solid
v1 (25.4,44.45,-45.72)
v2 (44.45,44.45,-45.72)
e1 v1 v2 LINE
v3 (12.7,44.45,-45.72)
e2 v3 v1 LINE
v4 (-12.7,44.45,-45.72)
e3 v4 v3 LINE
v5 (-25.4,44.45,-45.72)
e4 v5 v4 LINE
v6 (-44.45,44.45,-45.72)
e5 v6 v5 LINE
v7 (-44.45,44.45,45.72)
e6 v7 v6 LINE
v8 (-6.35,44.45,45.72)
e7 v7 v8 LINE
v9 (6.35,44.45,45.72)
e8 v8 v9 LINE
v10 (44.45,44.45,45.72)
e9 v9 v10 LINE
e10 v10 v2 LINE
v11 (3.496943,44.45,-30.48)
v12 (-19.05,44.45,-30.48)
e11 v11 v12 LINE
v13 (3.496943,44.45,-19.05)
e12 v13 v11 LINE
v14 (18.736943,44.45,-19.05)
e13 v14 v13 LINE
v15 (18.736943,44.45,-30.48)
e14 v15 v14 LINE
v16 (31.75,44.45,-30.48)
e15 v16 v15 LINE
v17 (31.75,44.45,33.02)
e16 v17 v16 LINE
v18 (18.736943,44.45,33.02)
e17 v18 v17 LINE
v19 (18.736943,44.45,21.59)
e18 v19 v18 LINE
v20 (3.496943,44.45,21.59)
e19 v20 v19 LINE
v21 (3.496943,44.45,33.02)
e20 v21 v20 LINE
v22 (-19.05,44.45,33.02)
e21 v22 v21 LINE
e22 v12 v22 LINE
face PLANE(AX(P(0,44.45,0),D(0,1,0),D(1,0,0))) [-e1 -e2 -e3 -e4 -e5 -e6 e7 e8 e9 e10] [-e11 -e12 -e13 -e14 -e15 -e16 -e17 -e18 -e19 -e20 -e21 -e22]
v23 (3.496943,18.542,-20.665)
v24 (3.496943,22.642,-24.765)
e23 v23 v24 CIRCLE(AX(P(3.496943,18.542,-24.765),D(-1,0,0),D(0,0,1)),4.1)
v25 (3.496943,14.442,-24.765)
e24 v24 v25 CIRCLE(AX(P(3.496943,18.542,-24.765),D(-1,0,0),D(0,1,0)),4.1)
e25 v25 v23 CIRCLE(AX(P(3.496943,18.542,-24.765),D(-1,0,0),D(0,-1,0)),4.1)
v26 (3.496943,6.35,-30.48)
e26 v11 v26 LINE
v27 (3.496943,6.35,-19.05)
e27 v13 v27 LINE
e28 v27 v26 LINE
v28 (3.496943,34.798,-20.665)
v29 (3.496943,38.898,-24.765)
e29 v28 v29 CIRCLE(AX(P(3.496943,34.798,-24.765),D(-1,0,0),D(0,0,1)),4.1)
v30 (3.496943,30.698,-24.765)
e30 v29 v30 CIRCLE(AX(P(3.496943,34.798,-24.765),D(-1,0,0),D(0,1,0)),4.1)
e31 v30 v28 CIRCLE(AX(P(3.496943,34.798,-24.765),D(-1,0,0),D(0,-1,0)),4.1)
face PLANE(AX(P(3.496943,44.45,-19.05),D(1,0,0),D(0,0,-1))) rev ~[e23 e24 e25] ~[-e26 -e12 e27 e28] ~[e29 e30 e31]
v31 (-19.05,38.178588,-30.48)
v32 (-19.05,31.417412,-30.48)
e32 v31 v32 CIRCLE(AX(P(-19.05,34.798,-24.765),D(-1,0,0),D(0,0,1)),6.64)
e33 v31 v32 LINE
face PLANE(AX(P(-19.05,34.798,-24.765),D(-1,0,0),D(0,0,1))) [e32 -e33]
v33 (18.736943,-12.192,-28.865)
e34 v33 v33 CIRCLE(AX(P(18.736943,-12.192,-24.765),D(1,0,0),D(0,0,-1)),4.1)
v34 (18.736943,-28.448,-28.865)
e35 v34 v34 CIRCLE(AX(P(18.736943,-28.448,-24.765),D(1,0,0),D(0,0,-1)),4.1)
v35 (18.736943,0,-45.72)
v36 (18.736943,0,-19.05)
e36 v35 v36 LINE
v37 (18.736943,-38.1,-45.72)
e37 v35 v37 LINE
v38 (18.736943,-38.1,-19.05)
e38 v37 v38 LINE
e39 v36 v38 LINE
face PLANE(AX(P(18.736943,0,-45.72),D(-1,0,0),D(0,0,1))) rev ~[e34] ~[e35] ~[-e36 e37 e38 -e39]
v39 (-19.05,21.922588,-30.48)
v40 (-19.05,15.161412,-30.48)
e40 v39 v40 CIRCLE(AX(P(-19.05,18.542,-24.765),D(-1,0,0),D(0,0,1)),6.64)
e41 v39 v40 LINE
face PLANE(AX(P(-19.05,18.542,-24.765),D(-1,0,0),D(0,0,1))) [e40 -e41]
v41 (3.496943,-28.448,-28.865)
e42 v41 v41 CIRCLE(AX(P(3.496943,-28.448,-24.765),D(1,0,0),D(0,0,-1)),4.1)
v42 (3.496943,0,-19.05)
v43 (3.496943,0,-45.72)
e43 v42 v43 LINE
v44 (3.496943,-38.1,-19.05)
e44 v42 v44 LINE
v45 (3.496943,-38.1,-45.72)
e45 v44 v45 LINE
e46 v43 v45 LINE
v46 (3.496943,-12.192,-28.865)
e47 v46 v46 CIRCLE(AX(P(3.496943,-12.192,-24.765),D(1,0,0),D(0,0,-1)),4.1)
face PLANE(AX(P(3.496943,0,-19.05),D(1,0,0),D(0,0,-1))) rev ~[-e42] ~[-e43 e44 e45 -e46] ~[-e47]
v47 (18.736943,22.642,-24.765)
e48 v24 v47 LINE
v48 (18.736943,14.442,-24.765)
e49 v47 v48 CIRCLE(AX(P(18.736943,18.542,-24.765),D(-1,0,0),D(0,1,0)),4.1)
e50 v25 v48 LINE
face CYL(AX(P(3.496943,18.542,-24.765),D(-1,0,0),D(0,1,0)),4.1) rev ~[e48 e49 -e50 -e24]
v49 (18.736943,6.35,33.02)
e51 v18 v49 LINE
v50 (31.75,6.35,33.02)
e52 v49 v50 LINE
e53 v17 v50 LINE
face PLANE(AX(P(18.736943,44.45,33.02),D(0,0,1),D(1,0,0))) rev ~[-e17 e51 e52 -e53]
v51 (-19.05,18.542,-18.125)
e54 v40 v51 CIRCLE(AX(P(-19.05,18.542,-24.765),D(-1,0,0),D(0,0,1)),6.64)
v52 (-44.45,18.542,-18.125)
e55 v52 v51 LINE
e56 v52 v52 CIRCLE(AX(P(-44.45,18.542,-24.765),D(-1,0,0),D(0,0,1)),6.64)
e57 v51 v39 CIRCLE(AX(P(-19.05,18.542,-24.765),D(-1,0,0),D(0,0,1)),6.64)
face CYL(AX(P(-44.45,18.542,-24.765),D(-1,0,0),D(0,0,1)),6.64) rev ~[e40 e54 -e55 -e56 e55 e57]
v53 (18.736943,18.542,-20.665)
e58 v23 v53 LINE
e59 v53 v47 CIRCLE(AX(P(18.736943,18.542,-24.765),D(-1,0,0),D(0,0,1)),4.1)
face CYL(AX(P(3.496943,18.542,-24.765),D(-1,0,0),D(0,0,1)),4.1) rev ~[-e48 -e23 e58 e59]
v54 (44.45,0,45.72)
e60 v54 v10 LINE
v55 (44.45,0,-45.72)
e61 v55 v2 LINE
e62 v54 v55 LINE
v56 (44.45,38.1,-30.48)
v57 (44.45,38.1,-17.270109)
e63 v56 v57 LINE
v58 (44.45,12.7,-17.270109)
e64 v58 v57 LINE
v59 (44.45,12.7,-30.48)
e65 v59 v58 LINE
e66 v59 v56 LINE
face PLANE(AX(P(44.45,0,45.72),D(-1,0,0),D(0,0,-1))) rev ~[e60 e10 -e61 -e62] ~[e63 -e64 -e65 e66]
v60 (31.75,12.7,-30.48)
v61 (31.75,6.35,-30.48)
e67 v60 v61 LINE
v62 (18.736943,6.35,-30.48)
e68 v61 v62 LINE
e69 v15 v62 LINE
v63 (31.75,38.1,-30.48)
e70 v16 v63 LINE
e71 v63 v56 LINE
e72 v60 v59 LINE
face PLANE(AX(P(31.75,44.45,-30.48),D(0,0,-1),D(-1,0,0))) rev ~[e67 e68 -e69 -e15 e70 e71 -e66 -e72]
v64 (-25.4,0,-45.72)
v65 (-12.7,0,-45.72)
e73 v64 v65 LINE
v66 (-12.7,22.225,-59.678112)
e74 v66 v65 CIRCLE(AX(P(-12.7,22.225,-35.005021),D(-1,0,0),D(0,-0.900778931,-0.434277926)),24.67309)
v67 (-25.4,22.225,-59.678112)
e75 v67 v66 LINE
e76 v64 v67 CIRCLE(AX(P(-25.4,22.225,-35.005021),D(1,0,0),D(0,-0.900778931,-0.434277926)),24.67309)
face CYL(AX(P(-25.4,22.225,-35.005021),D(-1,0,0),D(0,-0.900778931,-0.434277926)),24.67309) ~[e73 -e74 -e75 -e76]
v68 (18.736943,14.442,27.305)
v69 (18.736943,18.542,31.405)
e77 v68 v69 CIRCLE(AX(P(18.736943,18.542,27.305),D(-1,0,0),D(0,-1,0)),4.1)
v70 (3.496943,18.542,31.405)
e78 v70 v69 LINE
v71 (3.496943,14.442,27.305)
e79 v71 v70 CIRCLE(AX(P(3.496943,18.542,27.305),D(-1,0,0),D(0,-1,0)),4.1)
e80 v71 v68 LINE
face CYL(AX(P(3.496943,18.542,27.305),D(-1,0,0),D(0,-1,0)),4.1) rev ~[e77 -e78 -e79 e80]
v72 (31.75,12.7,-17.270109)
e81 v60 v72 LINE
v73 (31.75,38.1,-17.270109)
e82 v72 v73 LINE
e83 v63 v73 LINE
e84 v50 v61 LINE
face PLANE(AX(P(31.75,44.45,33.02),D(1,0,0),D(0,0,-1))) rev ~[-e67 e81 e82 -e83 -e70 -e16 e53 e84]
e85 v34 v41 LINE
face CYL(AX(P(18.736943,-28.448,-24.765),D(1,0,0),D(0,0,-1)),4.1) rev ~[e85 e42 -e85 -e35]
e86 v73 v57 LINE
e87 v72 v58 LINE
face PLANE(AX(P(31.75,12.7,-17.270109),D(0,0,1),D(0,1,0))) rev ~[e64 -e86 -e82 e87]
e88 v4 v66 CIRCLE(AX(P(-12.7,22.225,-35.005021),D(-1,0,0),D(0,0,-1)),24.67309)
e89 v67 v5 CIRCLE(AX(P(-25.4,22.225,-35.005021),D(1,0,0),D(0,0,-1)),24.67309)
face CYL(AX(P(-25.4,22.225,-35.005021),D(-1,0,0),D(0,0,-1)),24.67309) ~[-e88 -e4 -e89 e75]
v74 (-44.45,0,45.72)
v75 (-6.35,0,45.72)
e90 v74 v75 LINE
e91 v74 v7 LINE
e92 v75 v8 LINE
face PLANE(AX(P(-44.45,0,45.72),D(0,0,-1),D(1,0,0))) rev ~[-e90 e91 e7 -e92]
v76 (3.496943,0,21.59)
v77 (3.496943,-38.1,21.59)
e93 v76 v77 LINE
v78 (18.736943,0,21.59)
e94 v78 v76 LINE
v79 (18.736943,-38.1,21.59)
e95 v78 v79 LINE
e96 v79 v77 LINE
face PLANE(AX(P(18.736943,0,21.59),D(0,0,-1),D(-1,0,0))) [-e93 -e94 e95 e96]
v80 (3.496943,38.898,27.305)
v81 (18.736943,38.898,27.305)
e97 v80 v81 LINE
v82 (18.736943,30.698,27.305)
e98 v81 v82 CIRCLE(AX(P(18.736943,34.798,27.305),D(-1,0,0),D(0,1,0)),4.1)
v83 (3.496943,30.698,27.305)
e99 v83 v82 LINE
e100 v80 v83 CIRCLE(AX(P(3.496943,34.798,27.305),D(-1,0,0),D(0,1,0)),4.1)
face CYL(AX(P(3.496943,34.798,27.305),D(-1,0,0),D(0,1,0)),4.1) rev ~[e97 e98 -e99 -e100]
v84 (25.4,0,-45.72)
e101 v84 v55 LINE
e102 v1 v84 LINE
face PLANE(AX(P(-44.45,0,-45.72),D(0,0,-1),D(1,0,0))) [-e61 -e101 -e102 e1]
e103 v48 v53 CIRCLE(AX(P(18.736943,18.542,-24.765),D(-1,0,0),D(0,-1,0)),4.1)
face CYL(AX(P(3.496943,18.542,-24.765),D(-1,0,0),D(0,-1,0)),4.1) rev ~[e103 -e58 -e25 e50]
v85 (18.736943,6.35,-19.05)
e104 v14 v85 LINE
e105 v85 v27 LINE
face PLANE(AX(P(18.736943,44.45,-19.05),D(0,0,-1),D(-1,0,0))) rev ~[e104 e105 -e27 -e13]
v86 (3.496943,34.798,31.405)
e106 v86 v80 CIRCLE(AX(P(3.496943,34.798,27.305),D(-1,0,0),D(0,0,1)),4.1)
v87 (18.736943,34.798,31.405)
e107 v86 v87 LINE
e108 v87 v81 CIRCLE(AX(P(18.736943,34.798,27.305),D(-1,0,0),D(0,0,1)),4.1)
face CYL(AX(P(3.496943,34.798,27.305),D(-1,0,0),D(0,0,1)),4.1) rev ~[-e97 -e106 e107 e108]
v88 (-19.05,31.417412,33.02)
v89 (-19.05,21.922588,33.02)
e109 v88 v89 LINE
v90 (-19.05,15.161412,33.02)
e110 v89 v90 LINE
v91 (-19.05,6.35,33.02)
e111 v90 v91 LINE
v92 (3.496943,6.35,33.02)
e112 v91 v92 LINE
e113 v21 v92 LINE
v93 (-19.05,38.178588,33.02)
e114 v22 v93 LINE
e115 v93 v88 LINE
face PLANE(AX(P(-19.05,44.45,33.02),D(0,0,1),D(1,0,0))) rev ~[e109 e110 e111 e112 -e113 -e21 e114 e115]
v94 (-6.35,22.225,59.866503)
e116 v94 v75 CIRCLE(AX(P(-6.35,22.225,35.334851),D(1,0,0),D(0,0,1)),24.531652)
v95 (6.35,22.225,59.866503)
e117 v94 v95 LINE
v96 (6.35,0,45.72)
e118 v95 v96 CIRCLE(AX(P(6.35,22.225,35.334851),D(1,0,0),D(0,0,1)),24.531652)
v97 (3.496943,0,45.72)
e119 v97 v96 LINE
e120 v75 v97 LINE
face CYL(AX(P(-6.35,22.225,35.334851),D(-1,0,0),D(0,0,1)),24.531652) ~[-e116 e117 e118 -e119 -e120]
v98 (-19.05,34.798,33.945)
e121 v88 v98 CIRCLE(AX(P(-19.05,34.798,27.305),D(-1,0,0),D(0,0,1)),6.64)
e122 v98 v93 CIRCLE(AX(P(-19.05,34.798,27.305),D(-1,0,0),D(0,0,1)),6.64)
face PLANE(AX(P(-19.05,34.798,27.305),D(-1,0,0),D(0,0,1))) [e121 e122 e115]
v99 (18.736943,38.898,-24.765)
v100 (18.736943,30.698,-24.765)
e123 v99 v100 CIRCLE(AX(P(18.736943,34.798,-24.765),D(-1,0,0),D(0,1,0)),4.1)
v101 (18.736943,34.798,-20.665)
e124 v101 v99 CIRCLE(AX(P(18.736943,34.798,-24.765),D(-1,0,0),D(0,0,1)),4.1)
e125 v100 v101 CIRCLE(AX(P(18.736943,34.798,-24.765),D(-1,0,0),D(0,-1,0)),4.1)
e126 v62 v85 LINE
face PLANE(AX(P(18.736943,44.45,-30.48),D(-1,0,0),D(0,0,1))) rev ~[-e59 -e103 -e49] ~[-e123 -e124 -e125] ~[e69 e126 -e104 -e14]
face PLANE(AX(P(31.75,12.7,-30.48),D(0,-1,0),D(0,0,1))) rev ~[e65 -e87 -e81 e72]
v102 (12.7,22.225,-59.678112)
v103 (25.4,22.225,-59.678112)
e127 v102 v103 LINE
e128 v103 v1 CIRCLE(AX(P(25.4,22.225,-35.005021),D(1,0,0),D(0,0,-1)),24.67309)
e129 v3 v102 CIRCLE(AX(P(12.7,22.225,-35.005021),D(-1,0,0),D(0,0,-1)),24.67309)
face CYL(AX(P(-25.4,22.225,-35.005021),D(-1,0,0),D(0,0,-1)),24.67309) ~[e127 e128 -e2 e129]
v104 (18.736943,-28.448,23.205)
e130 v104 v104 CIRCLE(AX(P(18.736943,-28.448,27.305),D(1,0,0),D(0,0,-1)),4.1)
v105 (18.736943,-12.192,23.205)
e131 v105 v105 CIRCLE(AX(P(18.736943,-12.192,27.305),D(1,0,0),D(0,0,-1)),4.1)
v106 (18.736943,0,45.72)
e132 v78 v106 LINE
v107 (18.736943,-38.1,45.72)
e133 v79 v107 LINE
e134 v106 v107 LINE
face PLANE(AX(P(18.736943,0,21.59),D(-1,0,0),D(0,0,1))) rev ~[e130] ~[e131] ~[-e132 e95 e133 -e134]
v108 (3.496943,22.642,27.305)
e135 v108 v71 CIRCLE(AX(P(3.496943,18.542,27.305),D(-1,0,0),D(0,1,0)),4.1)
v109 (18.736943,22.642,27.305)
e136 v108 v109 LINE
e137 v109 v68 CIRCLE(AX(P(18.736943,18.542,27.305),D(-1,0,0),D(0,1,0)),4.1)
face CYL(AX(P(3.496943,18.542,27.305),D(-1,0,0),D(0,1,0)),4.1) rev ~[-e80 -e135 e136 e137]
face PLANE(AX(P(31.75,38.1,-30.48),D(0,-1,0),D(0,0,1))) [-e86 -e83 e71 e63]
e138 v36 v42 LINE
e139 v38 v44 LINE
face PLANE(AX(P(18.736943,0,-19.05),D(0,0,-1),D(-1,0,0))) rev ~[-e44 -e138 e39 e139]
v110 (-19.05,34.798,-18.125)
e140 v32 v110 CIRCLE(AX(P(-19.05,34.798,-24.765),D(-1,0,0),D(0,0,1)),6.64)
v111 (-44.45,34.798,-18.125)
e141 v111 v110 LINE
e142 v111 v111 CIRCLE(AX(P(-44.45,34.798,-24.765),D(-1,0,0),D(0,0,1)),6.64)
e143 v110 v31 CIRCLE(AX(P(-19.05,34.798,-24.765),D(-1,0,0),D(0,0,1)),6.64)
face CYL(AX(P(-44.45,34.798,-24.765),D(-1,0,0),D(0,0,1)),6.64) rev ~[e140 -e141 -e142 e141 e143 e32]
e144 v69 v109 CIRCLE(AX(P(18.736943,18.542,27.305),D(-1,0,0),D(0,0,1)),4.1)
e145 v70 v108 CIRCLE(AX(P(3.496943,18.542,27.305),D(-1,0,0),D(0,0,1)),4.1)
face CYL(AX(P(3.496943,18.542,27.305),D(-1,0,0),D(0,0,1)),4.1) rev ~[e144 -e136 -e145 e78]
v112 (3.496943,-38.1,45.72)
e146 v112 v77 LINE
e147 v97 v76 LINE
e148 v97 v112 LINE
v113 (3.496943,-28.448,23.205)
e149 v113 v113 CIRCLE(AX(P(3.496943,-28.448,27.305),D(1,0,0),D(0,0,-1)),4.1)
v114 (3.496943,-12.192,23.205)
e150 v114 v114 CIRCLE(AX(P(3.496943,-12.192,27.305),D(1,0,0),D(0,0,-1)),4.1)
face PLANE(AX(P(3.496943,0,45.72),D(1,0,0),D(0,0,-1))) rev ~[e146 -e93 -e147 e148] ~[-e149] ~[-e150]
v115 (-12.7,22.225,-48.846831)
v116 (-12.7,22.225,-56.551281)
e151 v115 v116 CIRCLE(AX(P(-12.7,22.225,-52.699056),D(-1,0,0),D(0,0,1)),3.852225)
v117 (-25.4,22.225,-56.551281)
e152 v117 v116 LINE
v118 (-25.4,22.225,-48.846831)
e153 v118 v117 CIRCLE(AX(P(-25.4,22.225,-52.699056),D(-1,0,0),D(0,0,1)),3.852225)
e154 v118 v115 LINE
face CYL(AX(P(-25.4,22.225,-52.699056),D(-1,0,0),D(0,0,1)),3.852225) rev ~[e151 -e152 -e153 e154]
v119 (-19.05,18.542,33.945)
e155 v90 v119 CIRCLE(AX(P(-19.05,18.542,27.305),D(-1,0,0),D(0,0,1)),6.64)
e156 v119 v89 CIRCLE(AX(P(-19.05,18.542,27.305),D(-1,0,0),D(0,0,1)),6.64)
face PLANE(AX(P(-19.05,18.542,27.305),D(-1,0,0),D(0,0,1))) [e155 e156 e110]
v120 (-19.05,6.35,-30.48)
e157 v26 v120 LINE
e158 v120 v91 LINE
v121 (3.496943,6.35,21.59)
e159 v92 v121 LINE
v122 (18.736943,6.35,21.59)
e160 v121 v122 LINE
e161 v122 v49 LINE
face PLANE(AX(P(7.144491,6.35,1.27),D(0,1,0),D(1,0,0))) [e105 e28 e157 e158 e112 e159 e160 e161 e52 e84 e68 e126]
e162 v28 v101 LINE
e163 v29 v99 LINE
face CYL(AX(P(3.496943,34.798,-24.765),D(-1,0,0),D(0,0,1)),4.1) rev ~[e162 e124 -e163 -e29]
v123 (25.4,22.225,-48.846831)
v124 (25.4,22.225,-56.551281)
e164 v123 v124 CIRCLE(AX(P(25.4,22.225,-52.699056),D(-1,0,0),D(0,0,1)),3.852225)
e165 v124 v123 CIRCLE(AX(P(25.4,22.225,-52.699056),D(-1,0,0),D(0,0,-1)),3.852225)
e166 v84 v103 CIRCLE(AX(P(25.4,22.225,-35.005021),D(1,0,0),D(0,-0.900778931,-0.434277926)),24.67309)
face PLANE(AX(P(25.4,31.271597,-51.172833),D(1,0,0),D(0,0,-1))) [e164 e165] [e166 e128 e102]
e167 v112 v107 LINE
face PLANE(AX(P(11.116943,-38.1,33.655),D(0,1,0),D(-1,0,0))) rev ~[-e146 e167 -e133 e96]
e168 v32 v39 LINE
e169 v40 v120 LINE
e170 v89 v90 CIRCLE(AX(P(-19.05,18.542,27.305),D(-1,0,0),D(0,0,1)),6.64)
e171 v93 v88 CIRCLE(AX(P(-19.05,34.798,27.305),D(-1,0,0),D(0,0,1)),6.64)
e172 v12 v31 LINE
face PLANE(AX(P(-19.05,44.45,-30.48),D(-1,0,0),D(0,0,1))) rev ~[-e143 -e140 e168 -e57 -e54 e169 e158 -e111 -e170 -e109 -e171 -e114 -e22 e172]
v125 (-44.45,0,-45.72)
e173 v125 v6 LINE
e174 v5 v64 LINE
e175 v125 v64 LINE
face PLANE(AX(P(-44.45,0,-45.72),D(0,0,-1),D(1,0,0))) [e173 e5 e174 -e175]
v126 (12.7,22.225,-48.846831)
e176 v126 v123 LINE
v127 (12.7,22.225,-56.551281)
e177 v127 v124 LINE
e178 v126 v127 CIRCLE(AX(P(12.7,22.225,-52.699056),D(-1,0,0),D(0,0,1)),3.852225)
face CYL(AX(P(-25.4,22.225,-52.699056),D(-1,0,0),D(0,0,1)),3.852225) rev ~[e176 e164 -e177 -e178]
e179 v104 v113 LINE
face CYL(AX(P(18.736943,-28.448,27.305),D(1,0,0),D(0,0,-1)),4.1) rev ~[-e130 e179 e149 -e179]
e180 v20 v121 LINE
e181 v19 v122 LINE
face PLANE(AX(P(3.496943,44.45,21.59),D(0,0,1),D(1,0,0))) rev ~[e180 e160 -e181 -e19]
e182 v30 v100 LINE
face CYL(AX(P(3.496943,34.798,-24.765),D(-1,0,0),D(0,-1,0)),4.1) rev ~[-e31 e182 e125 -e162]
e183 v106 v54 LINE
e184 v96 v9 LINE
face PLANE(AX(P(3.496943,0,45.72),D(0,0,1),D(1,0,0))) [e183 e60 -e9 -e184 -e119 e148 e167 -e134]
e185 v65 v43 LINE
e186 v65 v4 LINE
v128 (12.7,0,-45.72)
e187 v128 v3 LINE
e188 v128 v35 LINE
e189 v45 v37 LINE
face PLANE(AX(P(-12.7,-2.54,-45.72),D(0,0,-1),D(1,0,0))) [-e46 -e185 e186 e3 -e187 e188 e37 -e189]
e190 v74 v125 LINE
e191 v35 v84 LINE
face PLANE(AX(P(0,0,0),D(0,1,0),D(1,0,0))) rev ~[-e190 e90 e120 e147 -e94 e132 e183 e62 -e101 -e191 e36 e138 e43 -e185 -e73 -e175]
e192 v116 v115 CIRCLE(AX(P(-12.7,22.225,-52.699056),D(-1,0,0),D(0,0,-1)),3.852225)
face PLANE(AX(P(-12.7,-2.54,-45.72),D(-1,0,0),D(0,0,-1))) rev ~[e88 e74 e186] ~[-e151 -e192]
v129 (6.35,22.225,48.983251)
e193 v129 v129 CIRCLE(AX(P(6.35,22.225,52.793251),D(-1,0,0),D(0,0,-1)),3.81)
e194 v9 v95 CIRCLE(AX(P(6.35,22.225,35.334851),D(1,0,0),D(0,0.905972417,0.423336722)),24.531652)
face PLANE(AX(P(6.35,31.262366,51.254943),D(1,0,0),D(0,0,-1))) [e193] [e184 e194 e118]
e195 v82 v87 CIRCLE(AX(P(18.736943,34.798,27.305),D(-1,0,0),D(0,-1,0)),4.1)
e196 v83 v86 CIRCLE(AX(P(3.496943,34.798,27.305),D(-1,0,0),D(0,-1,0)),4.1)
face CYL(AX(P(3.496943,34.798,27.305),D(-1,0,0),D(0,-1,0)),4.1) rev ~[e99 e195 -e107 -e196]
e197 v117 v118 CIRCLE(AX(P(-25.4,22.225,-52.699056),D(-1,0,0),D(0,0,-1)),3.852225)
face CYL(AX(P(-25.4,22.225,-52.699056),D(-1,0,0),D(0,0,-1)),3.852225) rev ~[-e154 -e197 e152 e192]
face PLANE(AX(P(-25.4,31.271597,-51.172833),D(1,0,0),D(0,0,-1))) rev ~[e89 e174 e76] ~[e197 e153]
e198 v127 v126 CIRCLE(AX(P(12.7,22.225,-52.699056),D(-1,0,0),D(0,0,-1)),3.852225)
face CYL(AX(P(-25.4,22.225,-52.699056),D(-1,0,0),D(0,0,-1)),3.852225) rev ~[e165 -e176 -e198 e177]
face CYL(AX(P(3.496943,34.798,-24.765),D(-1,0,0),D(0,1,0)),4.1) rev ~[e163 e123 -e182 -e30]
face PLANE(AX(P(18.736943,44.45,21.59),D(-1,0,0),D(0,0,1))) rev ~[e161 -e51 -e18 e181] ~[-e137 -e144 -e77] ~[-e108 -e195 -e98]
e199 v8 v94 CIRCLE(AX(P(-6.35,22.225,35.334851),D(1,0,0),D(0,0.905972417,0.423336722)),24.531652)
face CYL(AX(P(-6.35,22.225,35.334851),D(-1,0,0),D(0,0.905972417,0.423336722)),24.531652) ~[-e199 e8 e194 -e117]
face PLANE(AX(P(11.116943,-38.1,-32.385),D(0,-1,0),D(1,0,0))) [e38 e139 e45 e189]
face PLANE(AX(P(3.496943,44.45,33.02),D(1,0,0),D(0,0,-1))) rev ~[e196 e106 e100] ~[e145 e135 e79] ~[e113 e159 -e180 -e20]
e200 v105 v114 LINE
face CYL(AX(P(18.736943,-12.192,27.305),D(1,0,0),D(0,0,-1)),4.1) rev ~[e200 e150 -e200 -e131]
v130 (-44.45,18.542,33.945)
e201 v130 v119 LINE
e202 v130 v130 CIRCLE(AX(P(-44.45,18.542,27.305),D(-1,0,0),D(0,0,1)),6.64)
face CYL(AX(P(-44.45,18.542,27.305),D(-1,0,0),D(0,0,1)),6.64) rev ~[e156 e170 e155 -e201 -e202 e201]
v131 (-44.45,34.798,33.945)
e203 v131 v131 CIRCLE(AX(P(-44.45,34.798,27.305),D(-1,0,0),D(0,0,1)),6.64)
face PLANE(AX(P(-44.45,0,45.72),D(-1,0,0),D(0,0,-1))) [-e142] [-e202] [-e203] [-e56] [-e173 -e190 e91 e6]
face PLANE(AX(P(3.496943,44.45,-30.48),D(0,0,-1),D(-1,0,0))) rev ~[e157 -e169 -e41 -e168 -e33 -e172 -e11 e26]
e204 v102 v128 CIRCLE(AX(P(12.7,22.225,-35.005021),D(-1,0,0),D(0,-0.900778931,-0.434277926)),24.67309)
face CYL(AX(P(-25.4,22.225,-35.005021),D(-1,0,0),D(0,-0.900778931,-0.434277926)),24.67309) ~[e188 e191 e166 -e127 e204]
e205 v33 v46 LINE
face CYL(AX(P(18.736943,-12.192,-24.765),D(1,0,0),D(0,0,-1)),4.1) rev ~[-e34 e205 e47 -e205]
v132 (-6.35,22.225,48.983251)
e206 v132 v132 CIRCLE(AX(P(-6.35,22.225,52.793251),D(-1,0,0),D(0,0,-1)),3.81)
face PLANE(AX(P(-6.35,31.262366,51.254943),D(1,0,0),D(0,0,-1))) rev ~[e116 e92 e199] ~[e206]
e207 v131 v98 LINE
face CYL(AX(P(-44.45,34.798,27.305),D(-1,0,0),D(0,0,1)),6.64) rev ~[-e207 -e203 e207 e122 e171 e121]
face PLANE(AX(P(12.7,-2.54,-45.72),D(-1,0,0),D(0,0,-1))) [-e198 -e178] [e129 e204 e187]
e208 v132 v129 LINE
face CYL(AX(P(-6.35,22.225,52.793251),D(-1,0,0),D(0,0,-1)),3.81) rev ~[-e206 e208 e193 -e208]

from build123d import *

# Parameters (mm, degrees)
SKETCH1_W                = 88.9
SKETCH1_H                = 91.44
BOSS_EXTRUDE1_DEPTH      = 44.45
CUT_EXTRUDE1_DEPTH       = 38.1
CUT_EXTRUDE2_DEPTH       = 15.24
SKETCH4_R                = 6.64
CUT_EXTRUDE3_DEPTH       = 25.4
SKETCH5_W                = 13.209891204
SKETCH5_H                = 25.4
CUT_EXTRUDE4_DEPTH       = 12.7
BOSS_EXTRUDE2_DEPTH      = 25.4
BOSS_EXTRUDE2_DEPTH_BACK = 25.4
CUT_EXTRUDE6_DEPTH       = 45.72
CUT_EXTRUDE6_DEPTH_BACK  = 2.54
SKETCH9_W                = 12.7
SKETCH9_H                = 18.221589608
BOSS_EXTRUDE4_DEPTH      = 6.35
BOSS_EXTRUDE4_DEPTH_BACK = 6.35
BOSS_EXTRUDE6_DEPTH      = 38.1
SKETCH12_R               = 4.1
CUT_EXTRUDE7_DEPTH       = 98.736331214


with BuildPart() as part:
    # Sketch1 → Boss-Extrude1 (new body)
    with BuildSketch(Plane(origin=(0, 0, 0), x_dir=(1, 0, 0), z_dir=(0, 1, 0))):
        Rectangle(SKETCH1_W, SKETCH1_H)
    extrude(amount=BOSS_EXTRUDE1_DEPTH)

    # Sketch2 → Cut-Extrude1 (cut)
    with BuildSketch(Plane(origin=(0, 44.45, 0), x_dir=(1, 0, 0), z_dir=(0, 1, 0))):
        Polygon((-19.05, 30.48), (-19.05, -33.02), (3.496943095, -33.02), (3.496943095, -21.59), (18.736943095, -21.59), (18.736943095, -33.02), (31.75, -33.02), (31.75, 30.48), (18.736943095, 30.48), (18.736943095, 19.05), (3.496943095, 19.05), (3.496943095, 30.48), align=None)
    extrude(amount=-CUT_EXTRUDE1_DEPTH, mode=Mode.SUBTRACT)

    # Sketch3 → Cut-Extrude2 (cut)
    with BuildSketch(Plane.ZY.offset(-3.496943095)):
        with BuildLine():
            ThreePointArc((-24.765, 22.642), (-28.865, 18.542), (-24.765, 14.442))
            Line((-24.765, 14.442), (-24.765, 22.642))
        make_face()
        with BuildLine():
            Line((-24.765, 22.642), (-24.765, 14.442))
            ThreePointArc((-24.765, 14.442), (-21.865862197, 15.642862197), (-20.665, 18.542))
            ThreePointArc((-20.665, 18.542), (-21.865862197, 21.441137803), (-24.765, 22.642))
        make_face()
        with BuildLine():
            ThreePointArc((-24.765, 22.642), (-28.865, 18.542), (-24.765, 14.442))
            Line((-24.765, 14.442), (-24.765, 22.642))
        make_face()
        with BuildLine():
            Line((-24.765, 22.642), (-24.765, 14.442))
            ThreePointArc((-24.765, 14.442), (-21.865862197, 15.642862197), (-20.665, 18.542))
            ThreePointArc((-20.665, 18.542), (-21.865862197, 21.441137803), (-24.765, 22.642))
        make_face()
        with BuildLine():
            ThreePointArc((-24.765, 38.898), (-28.865, 34.798), (-24.765, 30.698))
            Line((-24.765, 30.698), (-24.765, 38.898))
        make_face()
        with BuildLine():
            Line((-24.765, 38.898), (-24.765, 30.698))
            ThreePointArc((-24.765, 30.698), (-21.865862197, 31.898862197), (-20.665, 34.798))
            ThreePointArc((-20.665, 34.798), (-21.865862197, 37.697137803), (-24.765, 38.898))
        make_face()
        with BuildLine():
            ThreePointArc((-24.765, 38.898), (-28.865, 34.798), (-24.765, 30.698))
            Line((-24.765, 30.698), (-24.765, 38.898))
        make_face()
        with BuildLine():
            Line((-24.765, 38.898), (-24.765, 30.698))
            ThreePointArc((-24.765, 30.698), (-21.865862197, 31.898862197), (-20.665, 34.798))
            ThreePointArc((-20.665, 34.798), (-21.865862197, 37.697137803), (-24.765, 38.898))
        make_face()
        with BuildLine():
            ThreePointArc((27.305, 22.642), (23.205, 18.542), (27.305, 14.442))
            Line((27.305, 14.442), (27.305, 22.642))
        make_face()
        with BuildLine():
            Line((27.305, 22.642), (27.305, 14.442))
            ThreePointArc((27.305, 14.442), (30.204137803, 15.642862197), (31.405, 18.542))
            ThreePointArc((31.405, 18.542), (30.204137803, 21.441137803), (27.305, 22.642))
        make_face()
        with BuildLine():
            ThreePointArc((27.305, 22.642), (23.205, 18.542), (27.305, 14.442))
            Line((27.305, 14.442), (27.305, 22.642))
        make_face()
        with BuildLine():
            Line((27.305, 22.642), (27.305, 14.442))
            ThreePointArc((27.305, 14.442), (30.204137803, 15.642862197), (31.405, 18.542))
            ThreePointArc((31.405, 18.542), (30.204137803, 21.441137803), (27.305, 22.642))
        make_face()
        with BuildLine():
            ThreePointArc((27.305, 38.898), (23.205, 34.798), (27.305, 30.698))
            Line((27.305, 30.698), (27.305, 38.898))
        make_face()
        with BuildLine():
            Line((27.305, 38.898), (27.305, 30.698))
            ThreePointArc((27.305, 30.698), (30.204137803, 31.898862197), (31.405, 34.798))
            ThreePointArc((31.405, 34.798), (30.204137803, 37.697137803), (27.305, 38.898))
        make_face()
        with BuildLine():
            ThreePointArc((27.305, 38.898), (23.205, 34.798), (27.305, 30.698))
            Line((27.305, 30.698), (27.305, 38.898))
        make_face()
        with BuildLine():
            Line((27.305, 38.898), (27.305, 30.698))
            ThreePointArc((27.305, 30.698), (30.204137803, 31.898862197), (31.405, 34.798))
            ThreePointArc((31.405, 34.798), (30.204137803, 37.697137803), (27.305, 38.898))
        make_face()
    extrude(amount=-CUT_EXTRUDE2_DEPTH, mode=Mode.SUBTRACT)

    # Sketch4 → Cut-Extrude3 (cut)
    with BuildSketch(Plane.ZY.offset(44.45)):
        with Locations((-24.765, 18.542)):
            Circle(SKETCH4_R)
        with Locations((-24.765, 34.798)):
            Circle(SKETCH4_R)
        with Locations((27.305, 18.542)):
            Circle(SKETCH4_R)
        with Locations((27.305, 34.798)):
            Circle(SKETCH4_R)
    extrude(amount=-CUT_EXTRUDE3_DEPTH, mode=Mode.SUBTRACT)

    # Sketch5 → Cut-Extrude4 (cut)
    with BuildSketch(Plane.ZY.offset(-31.75)):
        with Locations((-23.875054398, 25.4)):
            Rectangle(SKETCH5_W, SKETCH5_H)
    extrude(amount=-CUT_EXTRUDE4_DEPTH, mode=Mode.SUBTRACT)

    # Sketch8 → Boss-Extrude2 (add, two sides: drawn at the far end of the back side and taken through both)
    with BuildSketch(Plane(origin=(0, 0, 0), x_dir=(0, 0, -1), z_dir=(1, 0, 0)).offset(-BOSS_EXTRUDE2_DEPTH_BACK)):
        with BuildLine():
            ThreePointArc((48.846831284, 22.225), (52.699055938, 26.077224654), (56.551280591, 22.225))
            Line((56.551280591, 22.225), (59.678111875, 22.225))
            ThreePointArc((59.678111875, 22.225), (55.899195587, 35.347304601), (45.72, 44.45))
            Line((45.72, 44.45), (45.72, 22.225))
            Line((45.72, 22.225), (48.846831284, 22.225))
        make_face()
        with BuildLine():
            Line((59.678111875, 22.225), (56.551280591, 22.225))
            ThreePointArc((56.551280591, 22.225), (52.699055938, 18.372775346), (48.846831284, 22.225))
            Line((48.846831284, 22.225), (45.72, 22.225))
            Line((45.72, 22.225), (45.72, 0))
            ThreePointArc((45.72, 0), (55.899195587, 9.102695399), (59.678111875, 22.225))
        make_face()
        with BuildLine():
            ThreePointArc((48.846831284, 22.225), (52.699055938, 26.077224654), (56.551280591, 22.225))
            Line((56.551280591, 22.225), (59.678111875, 22.225))
            ThreePointArc((59.678111875, 22.225), (55.899195587, 35.347304601), (45.72, 44.45))
            Line((45.72, 44.45), (45.72, 22.225))
            Line((45.72, 22.225), (48.846831284, 22.225))
        make_face()
        with BuildLine():
            Line((59.678111875, 22.225), (56.551280591, 22.225))
            ThreePointArc((56.551280591, 22.225), (52.699055938, 18.372775346), (48.846831284, 22.225))
            Line((48.846831284, 22.225), (45.72, 22.225))
            Line((45.72, 22.225), (45.72, 0))
            ThreePointArc((45.72, 0), (55.899195587, 9.102695399), (59.678111875, 22.225))
        make_face()
    extrude(amount=BOSS_EXTRUDE2_DEPTH + BOSS_EXTRUDE2_DEPTH_BACK)

    # Sketch9 → Cut-Extrude6 (cut, two sides: drawn at the far end of the back side and taken through both)
    with BuildSketch(Plane(origin=(0, 0, 0), x_dir=(1, 0, 0), z_dir=(0, 1, 0)).offset(-CUT_EXTRUDE6_DEPTH_BACK)):
        with Locations((-6.35, 54.830794804)):
            Rectangle(SKETCH9_W, SKETCH9_H)
        with Locations((6.35, 54.830794804)):
            Rectangle(SKETCH9_W, SKETCH9_H)
    extrude(amount=CUT_EXTRUDE6_DEPTH + CUT_EXTRUDE6_DEPTH_BACK, mode=Mode.SUBTRACT)

    # Sketch10 → Boss-Extrude4 (add, two sides: drawn at the far end of the back side and taken through both)
    with BuildSketch(Plane(origin=(0, 0, 0), x_dir=(0, 0, -1), z_dir=(1, 0, 0)).offset(-BOSS_EXTRUDE4_DEPTH_BACK)):
        with BuildLine():
            Line((-45.72, 22.225), (-45.72, 44.45))
            ThreePointArc((-45.72, 44.45), (-56.029860076, 35.397643692), (-59.866502833, 22.225))
            Line((-59.866502833, 22.225), (-56.603251416, 22.225))
            ThreePointArc((-56.603251416, 22.225), (-52.793251416, 26.035), (-48.983251416, 22.225))
            Line((-48.983251416, 22.225), (-45.72, 22.225))
        make_face()
        with BuildLine():
            Line((-45.72, 0), (-45.72, 22.225))
            Line((-45.72, 22.225), (-48.983251416, 22.225))
            ThreePointArc((-48.983251416, 22.225), (-52.793251416, 18.415), (-56.603251416, 22.225))
            Line((-56.603251416, 22.225), (-59.866502833, 22.225))
            ThreePointArc((-59.866502833, 22.225), (-56.029860076, 9.052356308), (-45.72, 0))
        make_face()
        with BuildLine():
            Line((-45.72, 22.225), (-45.72, 44.45))
            ThreePointArc((-45.72, 44.45), (-56.029860076, 35.397643692), (-59.866502833, 22.225))
            Line((-59.866502833, 22.225), (-56.603251416, 22.225))
            ThreePointArc((-56.603251416, 22.225), (-52.793251416, 26.035), (-48.983251416, 22.225))
            Line((-48.983251416, 22.225), (-45.72, 22.225))
        make_face()
        with BuildLine():
            Line((-45.72, 0), (-45.72, 22.225))
            Line((-45.72, 22.225), (-48.983251416, 22.225))
            ThreePointArc((-48.983251416, 22.225), (-52.793251416, 18.415), (-56.603251416, 22.225))
            Line((-56.603251416, 22.225), (-59.866502833, 22.225))
            ThreePointArc((-59.866502833, 22.225), (-56.029860076, 9.052356308), (-45.72, 0))
        make_face()
    extrude(amount=BOSS_EXTRUDE4_DEPTH + BOSS_EXTRUDE4_DEPTH_BACK)

    # Sketch11 → Boss-Extrude6 (add)
    with BuildSketch(Plane.XZ):
        Polygon((18.736943095, 33.02), (18.736943095, 21.59), (3.496943095, 21.59), (3.496943095, 33.02), (3.496943095, 45.72), (18.736943095, 45.72), align=None)
        Polygon((18.736943095, -30.48), (18.736943095, -19.05), (3.496943095, -19.05), (3.496943095, -30.48), (3.496943095, -45.72), (18.736943095, -45.72), align=None)
    extrude(amount=BOSS_EXTRUDE6_DEPTH)

    # Sketch12 → Cut-Extrude7 (cut, through all)
    with BuildSketch(Plane(origin=(18.736943095, 0, 0), x_dir=(0, 0, -1), z_dir=(1, 0, 0))):
        with Locations((24.765, -12.192)):
            Circle(SKETCH12_R)
        with Locations((24.765, -28.448)):
            Circle(SKETCH12_R)
        with Locations((-27.305, -12.192)):
            Circle(SKETCH12_R)
        with Locations((-27.305, -28.448)):
            Circle(SKETCH12_R)
    extrude(amount=-CUT_EXTRUDE7_DEPTH, mode=Mode.SUBTRACT)


solid = part.part
